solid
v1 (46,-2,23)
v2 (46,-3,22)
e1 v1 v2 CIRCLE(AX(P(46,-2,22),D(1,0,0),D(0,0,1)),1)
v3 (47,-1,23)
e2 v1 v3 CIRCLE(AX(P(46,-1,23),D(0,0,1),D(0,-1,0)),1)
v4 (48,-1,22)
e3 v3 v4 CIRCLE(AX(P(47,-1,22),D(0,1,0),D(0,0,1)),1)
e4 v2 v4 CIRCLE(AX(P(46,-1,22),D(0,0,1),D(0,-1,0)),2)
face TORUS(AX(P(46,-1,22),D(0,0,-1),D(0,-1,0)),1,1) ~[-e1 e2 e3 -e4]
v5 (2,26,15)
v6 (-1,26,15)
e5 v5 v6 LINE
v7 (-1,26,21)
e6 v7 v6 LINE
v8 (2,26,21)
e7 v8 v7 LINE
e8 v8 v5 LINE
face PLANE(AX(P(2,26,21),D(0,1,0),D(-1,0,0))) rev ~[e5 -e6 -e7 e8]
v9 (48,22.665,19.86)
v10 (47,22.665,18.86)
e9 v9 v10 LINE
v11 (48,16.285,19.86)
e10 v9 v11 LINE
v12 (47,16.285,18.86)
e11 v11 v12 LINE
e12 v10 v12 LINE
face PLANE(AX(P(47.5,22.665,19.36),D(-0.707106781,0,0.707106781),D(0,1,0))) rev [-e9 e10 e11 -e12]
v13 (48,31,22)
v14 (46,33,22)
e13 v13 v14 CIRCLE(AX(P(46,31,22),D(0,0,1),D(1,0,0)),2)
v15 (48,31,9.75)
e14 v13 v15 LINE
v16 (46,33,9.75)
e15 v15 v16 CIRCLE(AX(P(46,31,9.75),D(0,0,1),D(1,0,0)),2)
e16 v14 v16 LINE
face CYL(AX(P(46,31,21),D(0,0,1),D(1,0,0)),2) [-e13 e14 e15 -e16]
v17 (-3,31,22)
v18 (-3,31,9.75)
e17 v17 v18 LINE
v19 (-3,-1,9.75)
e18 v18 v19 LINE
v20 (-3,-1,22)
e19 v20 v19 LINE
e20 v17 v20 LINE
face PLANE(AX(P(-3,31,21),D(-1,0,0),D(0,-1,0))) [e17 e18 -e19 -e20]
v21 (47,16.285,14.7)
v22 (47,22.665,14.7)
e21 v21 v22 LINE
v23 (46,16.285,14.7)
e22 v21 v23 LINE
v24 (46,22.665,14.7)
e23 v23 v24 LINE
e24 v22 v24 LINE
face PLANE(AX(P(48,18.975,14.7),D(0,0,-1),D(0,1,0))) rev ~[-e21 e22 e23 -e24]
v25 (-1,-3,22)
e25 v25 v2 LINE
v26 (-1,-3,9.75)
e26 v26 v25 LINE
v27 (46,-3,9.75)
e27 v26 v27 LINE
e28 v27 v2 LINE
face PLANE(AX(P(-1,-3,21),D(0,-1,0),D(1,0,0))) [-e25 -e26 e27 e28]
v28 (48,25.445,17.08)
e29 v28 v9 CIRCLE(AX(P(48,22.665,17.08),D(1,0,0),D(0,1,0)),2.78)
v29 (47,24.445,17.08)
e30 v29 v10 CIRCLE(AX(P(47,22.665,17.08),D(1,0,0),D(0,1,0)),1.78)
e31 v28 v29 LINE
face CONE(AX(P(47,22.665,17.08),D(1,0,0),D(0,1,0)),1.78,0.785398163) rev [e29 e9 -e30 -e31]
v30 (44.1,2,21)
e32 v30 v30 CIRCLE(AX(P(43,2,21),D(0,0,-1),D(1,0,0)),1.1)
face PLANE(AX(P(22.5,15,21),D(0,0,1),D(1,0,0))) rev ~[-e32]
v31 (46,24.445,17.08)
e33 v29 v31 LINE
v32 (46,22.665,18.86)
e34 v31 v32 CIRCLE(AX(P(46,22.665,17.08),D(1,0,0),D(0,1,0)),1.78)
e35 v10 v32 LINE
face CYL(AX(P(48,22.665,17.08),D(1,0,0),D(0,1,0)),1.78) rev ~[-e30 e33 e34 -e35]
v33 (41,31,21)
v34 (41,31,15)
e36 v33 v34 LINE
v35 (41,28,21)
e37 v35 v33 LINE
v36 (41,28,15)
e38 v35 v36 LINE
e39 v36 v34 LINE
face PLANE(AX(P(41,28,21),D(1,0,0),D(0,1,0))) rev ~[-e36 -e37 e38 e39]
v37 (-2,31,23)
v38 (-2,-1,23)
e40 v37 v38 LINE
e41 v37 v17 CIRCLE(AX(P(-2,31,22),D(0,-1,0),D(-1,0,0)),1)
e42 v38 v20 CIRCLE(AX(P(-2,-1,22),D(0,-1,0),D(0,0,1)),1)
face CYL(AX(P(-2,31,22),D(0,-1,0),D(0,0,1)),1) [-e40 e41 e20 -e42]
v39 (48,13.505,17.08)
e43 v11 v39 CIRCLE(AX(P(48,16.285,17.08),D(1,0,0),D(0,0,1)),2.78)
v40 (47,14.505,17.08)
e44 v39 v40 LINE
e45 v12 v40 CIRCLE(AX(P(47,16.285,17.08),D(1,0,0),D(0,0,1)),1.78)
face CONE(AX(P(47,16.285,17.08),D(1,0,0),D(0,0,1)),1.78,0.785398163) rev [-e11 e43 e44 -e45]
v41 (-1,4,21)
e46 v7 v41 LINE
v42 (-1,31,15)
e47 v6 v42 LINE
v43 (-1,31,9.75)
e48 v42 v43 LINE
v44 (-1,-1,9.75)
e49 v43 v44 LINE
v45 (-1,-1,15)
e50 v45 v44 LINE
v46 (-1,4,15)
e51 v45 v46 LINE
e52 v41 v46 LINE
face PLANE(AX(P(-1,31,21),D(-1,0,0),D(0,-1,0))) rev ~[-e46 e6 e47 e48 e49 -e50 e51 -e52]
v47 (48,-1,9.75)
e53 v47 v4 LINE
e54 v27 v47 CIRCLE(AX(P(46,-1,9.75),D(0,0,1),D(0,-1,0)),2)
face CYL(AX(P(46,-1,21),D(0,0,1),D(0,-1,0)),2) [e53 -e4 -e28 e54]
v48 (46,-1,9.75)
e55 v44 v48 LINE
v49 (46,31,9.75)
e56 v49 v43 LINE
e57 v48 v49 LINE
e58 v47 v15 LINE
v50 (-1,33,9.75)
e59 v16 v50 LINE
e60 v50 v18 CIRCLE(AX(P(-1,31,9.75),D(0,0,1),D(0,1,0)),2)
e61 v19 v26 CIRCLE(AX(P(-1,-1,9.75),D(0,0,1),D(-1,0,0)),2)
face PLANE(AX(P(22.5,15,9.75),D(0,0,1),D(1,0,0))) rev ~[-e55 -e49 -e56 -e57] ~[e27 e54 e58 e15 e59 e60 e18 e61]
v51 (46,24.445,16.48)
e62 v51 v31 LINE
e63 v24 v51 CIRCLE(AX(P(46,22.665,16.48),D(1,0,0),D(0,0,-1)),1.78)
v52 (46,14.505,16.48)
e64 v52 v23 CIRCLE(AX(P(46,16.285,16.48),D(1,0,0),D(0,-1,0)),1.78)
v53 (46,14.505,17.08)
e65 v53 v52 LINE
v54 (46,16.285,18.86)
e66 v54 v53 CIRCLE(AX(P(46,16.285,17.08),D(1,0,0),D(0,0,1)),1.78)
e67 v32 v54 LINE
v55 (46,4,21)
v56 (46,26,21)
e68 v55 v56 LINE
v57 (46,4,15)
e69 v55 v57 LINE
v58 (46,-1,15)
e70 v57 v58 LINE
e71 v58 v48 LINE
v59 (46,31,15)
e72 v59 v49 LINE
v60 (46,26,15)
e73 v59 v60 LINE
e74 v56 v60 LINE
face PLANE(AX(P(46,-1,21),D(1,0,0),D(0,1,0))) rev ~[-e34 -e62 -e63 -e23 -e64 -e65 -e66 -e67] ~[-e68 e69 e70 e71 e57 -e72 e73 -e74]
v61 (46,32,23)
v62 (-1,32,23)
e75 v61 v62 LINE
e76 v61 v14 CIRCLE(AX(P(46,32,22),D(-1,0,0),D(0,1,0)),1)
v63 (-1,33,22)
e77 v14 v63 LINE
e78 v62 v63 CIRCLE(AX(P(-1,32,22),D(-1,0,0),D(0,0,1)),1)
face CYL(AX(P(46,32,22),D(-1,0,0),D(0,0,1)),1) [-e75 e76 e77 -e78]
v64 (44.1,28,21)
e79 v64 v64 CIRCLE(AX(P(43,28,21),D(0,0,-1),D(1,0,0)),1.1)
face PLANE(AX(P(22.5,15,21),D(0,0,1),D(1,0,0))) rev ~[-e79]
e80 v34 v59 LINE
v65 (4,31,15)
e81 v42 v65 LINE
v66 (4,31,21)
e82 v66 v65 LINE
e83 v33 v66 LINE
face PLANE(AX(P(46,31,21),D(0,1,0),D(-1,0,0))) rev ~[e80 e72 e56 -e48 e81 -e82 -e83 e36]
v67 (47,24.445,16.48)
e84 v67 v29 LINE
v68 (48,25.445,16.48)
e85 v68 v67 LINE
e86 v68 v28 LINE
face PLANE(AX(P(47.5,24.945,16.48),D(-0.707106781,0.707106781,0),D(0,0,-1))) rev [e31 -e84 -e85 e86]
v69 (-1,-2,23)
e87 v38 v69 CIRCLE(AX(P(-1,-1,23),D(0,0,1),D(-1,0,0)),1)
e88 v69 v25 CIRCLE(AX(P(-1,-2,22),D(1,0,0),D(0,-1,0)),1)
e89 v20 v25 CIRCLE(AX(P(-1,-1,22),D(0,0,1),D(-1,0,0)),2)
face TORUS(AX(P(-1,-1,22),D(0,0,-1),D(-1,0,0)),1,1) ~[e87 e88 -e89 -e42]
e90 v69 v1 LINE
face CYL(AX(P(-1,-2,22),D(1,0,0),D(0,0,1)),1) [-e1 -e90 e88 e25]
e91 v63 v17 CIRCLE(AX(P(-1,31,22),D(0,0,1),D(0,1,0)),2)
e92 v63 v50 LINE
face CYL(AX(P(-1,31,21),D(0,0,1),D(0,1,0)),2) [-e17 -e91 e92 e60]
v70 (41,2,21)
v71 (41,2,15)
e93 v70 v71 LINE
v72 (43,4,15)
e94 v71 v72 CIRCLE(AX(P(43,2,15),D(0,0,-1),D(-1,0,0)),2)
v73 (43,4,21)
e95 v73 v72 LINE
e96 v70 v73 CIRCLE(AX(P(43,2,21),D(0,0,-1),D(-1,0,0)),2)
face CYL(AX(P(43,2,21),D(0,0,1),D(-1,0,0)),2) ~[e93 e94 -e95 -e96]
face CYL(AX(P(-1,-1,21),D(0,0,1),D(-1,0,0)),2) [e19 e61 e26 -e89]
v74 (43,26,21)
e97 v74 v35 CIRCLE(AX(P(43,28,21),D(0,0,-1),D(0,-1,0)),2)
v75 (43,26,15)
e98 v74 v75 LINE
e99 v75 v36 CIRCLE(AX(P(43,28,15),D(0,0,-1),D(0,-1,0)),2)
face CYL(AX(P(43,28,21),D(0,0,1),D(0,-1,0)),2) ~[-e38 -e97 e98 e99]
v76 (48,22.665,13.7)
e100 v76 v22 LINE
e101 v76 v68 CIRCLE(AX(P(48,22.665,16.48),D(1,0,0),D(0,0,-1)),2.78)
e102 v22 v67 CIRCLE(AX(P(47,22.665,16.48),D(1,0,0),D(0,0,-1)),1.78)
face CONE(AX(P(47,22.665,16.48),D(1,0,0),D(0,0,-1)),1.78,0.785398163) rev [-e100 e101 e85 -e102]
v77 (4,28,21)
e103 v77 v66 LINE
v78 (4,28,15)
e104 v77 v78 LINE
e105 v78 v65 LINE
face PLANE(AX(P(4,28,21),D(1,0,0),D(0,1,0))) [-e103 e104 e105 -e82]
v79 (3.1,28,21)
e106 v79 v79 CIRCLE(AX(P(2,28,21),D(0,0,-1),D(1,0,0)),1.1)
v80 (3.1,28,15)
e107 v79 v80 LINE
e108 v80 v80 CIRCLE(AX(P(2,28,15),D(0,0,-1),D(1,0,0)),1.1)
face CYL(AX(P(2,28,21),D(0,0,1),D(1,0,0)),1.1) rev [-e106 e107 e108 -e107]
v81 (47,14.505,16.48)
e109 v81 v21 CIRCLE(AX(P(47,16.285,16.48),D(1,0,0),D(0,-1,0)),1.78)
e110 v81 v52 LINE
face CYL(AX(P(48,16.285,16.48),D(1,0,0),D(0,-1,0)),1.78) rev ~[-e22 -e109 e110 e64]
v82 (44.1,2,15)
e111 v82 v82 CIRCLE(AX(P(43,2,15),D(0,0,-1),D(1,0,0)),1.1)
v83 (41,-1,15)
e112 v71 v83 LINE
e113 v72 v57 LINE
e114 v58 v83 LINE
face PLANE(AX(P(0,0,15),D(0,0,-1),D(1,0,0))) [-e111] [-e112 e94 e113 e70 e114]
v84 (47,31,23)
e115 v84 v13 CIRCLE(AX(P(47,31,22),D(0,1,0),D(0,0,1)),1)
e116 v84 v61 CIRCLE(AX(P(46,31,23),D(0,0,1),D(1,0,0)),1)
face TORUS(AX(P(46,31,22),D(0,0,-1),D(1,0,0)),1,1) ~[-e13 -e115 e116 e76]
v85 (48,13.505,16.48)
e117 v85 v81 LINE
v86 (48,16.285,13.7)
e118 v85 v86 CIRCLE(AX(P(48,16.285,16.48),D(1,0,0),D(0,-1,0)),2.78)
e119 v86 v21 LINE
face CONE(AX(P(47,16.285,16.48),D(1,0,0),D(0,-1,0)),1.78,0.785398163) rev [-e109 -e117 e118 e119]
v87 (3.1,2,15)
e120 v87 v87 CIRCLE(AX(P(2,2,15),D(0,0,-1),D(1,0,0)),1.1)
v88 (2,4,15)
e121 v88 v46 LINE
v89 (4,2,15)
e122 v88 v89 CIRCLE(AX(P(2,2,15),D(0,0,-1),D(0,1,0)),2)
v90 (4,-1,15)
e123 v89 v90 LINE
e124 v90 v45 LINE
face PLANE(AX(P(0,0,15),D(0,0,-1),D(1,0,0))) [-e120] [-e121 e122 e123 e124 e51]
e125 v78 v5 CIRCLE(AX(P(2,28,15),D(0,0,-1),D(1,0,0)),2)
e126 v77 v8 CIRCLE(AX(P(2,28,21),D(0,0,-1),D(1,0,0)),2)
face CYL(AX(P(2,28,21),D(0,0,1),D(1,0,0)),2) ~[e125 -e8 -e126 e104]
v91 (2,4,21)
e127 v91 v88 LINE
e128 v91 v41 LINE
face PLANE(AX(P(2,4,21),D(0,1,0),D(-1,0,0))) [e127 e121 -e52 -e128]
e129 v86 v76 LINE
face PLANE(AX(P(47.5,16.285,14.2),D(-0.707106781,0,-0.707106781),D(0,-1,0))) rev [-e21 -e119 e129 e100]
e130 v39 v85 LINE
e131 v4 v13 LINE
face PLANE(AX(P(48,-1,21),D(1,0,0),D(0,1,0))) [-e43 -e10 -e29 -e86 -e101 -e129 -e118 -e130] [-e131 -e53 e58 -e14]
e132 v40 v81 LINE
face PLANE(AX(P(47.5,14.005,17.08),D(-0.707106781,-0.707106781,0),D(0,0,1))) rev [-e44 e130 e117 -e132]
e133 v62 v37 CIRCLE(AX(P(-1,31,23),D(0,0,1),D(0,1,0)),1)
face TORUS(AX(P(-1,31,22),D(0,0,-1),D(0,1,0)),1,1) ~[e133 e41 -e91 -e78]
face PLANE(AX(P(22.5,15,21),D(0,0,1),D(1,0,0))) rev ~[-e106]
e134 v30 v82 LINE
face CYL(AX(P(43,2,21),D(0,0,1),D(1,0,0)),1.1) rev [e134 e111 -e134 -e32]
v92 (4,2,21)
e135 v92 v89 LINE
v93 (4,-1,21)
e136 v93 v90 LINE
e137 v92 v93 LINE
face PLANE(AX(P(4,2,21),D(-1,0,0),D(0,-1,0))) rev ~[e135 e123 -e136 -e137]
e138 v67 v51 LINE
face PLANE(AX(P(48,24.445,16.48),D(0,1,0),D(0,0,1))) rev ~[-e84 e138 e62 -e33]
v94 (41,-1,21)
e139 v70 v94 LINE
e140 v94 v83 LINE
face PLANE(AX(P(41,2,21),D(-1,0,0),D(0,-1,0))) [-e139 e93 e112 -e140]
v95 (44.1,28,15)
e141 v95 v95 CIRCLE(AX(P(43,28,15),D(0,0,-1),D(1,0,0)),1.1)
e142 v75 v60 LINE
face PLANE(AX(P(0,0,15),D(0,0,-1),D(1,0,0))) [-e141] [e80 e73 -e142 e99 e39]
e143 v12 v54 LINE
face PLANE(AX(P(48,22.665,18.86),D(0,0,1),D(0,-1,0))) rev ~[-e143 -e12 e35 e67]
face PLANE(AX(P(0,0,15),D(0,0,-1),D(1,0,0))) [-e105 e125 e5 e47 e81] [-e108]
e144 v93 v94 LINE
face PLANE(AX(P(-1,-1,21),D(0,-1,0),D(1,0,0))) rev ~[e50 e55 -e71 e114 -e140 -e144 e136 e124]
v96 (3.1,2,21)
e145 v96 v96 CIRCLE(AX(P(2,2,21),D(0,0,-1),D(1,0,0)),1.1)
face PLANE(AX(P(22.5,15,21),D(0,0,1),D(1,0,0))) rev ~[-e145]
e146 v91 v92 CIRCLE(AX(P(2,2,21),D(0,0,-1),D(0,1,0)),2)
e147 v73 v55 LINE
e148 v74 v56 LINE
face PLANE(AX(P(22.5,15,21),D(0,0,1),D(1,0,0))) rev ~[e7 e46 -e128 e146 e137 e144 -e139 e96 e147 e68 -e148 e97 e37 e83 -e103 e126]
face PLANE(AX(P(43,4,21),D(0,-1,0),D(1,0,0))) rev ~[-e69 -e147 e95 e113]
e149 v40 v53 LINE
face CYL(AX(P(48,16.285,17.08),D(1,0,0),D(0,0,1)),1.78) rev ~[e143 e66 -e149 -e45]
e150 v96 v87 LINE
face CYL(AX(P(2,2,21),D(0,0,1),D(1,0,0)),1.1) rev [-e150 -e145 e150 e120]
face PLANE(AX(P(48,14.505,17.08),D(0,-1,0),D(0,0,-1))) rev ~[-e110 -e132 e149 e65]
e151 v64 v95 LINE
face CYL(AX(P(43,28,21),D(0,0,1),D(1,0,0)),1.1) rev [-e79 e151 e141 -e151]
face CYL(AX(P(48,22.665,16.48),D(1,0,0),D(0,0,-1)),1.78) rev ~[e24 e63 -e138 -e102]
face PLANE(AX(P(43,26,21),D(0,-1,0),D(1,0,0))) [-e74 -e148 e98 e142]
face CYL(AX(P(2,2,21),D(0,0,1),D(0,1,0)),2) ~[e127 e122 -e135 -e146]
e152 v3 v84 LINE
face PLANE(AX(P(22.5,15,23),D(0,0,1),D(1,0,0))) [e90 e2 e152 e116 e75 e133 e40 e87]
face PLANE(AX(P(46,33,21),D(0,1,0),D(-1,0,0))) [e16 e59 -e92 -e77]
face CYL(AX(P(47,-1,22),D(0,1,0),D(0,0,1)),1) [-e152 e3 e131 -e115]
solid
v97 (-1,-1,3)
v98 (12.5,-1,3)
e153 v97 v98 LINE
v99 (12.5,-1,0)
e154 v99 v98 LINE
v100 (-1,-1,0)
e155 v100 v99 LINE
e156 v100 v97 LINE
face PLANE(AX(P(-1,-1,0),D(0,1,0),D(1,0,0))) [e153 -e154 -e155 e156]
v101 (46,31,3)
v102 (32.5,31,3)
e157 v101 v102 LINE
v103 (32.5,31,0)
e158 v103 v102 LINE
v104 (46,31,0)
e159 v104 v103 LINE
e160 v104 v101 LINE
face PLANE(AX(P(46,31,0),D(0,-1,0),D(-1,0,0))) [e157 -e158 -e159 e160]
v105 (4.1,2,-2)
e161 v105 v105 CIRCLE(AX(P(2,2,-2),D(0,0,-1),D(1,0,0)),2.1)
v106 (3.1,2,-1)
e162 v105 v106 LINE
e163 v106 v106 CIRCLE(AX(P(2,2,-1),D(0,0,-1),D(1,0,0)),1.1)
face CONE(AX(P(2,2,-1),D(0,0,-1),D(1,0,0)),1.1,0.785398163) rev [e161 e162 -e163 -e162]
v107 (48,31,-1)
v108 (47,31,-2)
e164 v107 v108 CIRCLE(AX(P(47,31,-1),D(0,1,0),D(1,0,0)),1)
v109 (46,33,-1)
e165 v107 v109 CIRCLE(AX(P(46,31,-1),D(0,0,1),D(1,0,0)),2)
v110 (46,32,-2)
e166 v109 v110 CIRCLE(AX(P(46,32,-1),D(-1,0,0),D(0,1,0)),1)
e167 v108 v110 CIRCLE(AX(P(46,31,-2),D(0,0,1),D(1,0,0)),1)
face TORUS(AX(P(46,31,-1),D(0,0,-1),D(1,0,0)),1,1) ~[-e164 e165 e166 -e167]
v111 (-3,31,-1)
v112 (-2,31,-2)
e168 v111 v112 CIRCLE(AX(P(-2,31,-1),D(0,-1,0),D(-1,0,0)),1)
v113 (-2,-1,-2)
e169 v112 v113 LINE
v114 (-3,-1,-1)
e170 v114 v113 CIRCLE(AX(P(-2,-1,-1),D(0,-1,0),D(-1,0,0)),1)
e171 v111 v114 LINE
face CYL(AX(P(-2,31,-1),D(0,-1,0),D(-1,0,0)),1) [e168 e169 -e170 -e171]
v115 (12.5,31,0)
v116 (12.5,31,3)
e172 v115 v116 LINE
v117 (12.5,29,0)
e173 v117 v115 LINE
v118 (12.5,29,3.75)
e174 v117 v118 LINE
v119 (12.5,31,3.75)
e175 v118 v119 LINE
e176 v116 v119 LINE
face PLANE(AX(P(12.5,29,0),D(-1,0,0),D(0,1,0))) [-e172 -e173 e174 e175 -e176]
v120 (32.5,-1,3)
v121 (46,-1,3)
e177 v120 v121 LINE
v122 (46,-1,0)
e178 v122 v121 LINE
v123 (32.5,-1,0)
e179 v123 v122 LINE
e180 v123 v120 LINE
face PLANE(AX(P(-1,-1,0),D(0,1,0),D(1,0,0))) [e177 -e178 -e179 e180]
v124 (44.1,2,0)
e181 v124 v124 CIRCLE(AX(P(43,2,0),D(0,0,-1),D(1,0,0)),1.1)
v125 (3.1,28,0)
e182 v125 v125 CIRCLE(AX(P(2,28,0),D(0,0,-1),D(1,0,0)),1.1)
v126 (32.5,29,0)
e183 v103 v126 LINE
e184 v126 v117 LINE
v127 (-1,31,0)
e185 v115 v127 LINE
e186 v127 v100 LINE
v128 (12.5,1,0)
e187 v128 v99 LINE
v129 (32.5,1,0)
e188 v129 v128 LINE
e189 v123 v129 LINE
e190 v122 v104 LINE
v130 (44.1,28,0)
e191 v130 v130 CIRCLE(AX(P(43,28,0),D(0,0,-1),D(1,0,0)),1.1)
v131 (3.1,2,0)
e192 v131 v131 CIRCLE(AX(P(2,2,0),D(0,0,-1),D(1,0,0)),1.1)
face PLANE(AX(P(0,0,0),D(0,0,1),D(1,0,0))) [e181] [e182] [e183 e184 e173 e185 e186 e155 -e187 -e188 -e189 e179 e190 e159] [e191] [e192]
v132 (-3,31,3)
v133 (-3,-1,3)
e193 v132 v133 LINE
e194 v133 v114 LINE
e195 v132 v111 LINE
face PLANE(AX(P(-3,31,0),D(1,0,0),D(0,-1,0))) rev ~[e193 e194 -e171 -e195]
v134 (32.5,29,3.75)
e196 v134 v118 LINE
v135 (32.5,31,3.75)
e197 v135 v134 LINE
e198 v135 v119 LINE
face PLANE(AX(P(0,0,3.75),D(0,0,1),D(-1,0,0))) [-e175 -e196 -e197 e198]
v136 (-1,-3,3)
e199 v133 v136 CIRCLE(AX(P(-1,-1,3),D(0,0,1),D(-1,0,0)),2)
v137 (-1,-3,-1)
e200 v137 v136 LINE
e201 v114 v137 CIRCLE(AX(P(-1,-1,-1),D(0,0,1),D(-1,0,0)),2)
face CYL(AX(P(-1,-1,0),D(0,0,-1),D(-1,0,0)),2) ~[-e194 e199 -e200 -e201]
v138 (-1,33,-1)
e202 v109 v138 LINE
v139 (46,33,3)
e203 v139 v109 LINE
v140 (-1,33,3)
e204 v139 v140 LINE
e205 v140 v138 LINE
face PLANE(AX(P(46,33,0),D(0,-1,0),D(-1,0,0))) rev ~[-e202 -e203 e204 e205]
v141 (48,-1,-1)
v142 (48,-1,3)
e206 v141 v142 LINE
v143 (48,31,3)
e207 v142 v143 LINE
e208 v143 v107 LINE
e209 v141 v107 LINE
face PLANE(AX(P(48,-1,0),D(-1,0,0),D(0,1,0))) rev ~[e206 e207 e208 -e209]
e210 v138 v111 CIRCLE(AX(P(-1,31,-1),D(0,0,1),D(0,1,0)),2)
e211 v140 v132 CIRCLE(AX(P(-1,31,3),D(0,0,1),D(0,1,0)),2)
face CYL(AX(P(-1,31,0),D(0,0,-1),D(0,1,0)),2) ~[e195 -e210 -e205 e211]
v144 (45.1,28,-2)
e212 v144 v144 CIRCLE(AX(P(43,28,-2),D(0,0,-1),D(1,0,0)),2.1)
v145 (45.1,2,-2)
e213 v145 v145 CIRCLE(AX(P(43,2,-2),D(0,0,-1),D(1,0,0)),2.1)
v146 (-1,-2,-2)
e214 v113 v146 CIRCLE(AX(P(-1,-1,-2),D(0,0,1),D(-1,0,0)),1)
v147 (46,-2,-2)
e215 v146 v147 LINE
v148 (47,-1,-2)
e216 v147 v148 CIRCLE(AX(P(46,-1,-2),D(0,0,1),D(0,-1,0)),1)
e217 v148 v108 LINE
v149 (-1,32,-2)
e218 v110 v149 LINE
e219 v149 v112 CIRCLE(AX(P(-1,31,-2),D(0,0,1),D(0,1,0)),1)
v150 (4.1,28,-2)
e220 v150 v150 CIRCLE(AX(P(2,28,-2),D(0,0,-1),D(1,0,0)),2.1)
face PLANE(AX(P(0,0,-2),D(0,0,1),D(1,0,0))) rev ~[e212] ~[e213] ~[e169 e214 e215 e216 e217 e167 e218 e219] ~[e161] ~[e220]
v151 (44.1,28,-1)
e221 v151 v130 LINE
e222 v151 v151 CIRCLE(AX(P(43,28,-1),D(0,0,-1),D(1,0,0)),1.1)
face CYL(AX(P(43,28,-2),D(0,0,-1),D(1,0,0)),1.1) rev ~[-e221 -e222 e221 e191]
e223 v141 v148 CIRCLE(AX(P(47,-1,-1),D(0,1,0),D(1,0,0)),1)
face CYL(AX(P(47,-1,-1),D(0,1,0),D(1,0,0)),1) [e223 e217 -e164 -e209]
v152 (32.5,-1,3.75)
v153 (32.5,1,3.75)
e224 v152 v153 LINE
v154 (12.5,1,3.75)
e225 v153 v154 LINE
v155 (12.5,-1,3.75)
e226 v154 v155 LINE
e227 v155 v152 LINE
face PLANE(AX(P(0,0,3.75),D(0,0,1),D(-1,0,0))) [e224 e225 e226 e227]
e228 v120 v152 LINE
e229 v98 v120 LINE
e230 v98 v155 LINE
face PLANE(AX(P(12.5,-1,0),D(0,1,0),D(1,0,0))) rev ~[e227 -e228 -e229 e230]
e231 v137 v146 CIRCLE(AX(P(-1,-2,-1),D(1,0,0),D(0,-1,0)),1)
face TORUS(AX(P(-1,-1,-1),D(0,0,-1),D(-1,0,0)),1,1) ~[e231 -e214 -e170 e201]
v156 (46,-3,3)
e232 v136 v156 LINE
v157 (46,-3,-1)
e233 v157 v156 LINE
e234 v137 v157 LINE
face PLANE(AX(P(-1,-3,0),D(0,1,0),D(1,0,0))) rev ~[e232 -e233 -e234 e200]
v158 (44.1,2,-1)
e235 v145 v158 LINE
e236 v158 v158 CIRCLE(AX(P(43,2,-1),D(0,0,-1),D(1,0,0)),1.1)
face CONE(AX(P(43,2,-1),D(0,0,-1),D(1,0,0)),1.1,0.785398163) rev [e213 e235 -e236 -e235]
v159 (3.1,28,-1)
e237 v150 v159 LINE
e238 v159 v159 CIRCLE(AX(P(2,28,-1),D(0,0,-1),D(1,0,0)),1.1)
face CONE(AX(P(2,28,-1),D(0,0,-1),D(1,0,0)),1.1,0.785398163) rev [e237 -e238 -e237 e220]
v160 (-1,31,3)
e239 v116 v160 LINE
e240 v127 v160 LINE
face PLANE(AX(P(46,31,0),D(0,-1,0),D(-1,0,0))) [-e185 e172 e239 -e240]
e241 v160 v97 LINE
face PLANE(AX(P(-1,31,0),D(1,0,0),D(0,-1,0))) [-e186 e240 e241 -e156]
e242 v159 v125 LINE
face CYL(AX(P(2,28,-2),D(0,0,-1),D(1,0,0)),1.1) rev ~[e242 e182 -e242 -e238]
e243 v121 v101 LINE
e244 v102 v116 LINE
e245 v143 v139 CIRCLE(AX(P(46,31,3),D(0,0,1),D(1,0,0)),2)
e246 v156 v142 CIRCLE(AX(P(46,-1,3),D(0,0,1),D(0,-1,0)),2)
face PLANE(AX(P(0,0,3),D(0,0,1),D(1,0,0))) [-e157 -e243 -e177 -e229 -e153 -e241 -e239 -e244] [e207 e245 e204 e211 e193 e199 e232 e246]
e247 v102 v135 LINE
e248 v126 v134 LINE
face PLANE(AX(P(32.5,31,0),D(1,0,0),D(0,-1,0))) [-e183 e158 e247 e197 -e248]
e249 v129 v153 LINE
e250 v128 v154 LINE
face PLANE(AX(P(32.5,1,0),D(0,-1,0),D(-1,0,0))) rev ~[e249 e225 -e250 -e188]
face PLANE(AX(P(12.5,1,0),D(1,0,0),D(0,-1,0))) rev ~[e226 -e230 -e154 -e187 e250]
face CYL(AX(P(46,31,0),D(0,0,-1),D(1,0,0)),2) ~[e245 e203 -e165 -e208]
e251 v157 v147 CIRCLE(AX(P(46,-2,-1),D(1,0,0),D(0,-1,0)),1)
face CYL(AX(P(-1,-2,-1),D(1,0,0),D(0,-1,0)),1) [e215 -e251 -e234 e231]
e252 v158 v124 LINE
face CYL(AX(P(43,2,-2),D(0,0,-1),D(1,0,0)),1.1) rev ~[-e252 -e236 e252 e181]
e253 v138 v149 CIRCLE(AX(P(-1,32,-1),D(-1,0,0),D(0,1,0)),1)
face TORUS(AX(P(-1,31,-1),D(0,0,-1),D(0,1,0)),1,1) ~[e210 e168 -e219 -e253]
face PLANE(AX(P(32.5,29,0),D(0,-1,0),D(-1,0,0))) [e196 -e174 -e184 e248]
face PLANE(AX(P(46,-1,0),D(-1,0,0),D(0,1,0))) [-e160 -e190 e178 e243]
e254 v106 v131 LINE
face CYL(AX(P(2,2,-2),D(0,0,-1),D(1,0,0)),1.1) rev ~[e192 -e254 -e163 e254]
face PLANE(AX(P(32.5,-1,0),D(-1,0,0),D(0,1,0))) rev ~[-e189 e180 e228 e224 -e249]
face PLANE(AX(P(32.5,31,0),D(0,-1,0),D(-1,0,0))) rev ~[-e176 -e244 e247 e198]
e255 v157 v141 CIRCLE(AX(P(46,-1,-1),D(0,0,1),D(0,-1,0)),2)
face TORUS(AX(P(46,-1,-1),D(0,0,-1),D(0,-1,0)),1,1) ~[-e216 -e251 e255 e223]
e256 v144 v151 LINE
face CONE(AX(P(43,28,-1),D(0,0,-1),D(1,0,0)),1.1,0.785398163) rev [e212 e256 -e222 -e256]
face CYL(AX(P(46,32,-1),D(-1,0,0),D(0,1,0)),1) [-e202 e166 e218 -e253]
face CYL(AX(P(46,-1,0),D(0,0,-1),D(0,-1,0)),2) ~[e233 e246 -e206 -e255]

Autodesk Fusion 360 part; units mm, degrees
sketch "Sketch1" plane through (0, 0, 0) normal (0, 0, 1) x (1, 0, 0) in component "Enclosure-Bottom"
  line L0 (0, 0) -> (45, 0) construction
  line L1 (45, 0) -> (45, 30) construction
  line L2 (45, 30) -> (0, 30) construction
  line L3 (0, 30) -> (0, 0) construction
  line L4 (-1, -1) -> (46, -1)
  line L5 (46, -1) -> (46, 31)
  line L6 (46, 31) -> (-1, 31)
  line L7 (-1, 31) -> (-1, -1)
  line L8 (-1, -3) -> (46, -3)
  line L9 (48, -1) -> (48, 31)
  line L10 (46, 33) -> (-1, 33)
  line L11 (-3, 31) -> (-3, -1)
  arc A0 (48, 31) -> (46, 33) centre (46, 31) ccw
  arc A1 (-1, 33) -> (-3, 31) centre (-1, 31) ccw
  arc A2 (-3, -1) -> (-1, -3) centre (-1, -1) ccw
  arc A3 (46, -3) -> (48, -1) centre (46, -1) ccw
  dimension "d1" = 45
  dimension "d2" = 30
  dimension "d5" = 1
  dimension "d9" = 2
  dimension "d23" = 3
  dimension "d25" = 3
  dimension "d26" = 3
  dimension "d27" = 3
extrude "Extrude1" add sketch "Sketch1" against normal blind 2 contours L4 L5 L6 L7 | L8 L9 L10 L11 A0 A1 A2 A3 makes body 1 in component "Enclosure-Bottom"
extrude "Extrude2" add sketch "Sketch1" along normal blind 3 bodies 1 in component "Enclosure-Bottom"
ref_plane "WorkPlane1" through (22.5, 15, 20) normal (0, 0, 1) x (1, 0, 0)
sketch "Sketch1 (2)" plane through (22.5, 15, 20) normal (0, 0, 1) x (1, 0, 0) in component "Enclosure-Top"
  line L0 (-23.5, -16) -> (23.5, -16)
  line L1 (-23.5, 16) -> (-23.5, -16)
  line L2 (23.5, 16) -> (-23.5, 16)
  line L3 (23.5, -16) -> (23.5, 16)
  line L4 (-23.5, -18) -> (23.5, -18)
  arc A0 (23.5, -18) -> (25.5, -16) centre (23.5, -16) ccw
  line L5 (25.5, -16) -> (25.5, 16)
  line L6 (-25.5, 16) -> (-25.5, -16)
  arc A1 (-25.5, -16) -> (-23.5, -18) centre (-23.5, -16) ccw
  line L7 (23.5, 18) -> (-23.5, 18)
  arc A2 (-23.5, 18) -> (-25.5, 16) centre (-23.5, 16) ccw
  arc A3 (25.5, 16) -> (23.5, 18) centre (23.5, 16) ccw
extrude "Extrude1'" add sketch "Sketch1 (2)" against normal blind 11.25 separate body makes body 2 in component "Enclosure-Top"
extrude "Extrude2'" add sketch "Sketch1 (2)" along normal blind 2 contours L0 L1 L2 L3 | L4 A0 L5 L6 A1 L7 A2 A3 bodies 2 in component "Enclosure-Top"
fillet "Fillet1" radius 1 8 edges at (48, 15, 22) (47.4142, 32.4142, 22) (22.5, 33, 22) (-2.4142, 32.4142, 22) (-3, 15, 22) (-2.4142, -2.4142, 22) (22.5, -3, 22) (47.4142, -2.4142, 22) on bodies 2 in component "Enclosure-Top"
fillet "Fillet1'" radius 1 8 edges at (-3, 15, -2) (-2.4142, 32.4142, -2) (22.5, 33, -2) (47.4142, 32.4142, -2) (48, 15, -2) (47.4142, -2.4142, -2) (22.5, -3, -2) (-2.4142, -2.4142, -2) on bodies 1 in component "Enclosure-Bottom"
sketch "Sketch2" plane through (0, 0, 20) normal (0, 0, -1) x (1, 0, 0) in component "Enclosure-Top"
  line L0 (46, 1) -> (-1, 1)
  line L1 (-1, 1) -> (-1, -31)
  line L2 (-1, -31) -> (46, -31)
  line L3 (46, -31) -> (46, 1)
  line L4 (46, -2) -> (-1, -2) construction
  line L5 (2, 1) -> (2, -31) construction
  line L6 (-1, 1) -> (46, 1)
  line L7 (-1, -31) -> (-1, 1)
  line L8 (46, 1) -> (46, -31)
  line L9 (46, -31) -> (-1, -31)
  line L10 (22.5, 1) -> (22.5, -31) construction
  line L11 (46, -15) -> (-1, -15) construction
  line L12 (46, -28) -> (-1, -28) construction
  line L13 (43, 1) -> (43, -31) construction
  circle A0 centre (43, -2) radius 1.1
  line L14 (43, -4) -> (46, -4)
  line L15 (41, -2) -> (41, 1)
  arc A1 (41, -2) -> (43, -4) centre (43, -2) ccw
  circle A2 centre (2, -2) radius 1.1
  line L16 (4, -2) -> (4, 1)
  arc A3 (2, -4) -> (4, -2) centre (2, -2) ccw
  line L17 (2, -4) -> (-1, -4)
  circle A4 centre (2, -28) radius 1.1
  line L18 (4, -28) -> (4, -31)
  arc A5 (4, -28) -> (2, -26) centre (2, -28) ccw
  line L19 (2, -26) -> (-1, -26)
  line L20 (43, -26) -> (46, -26)
  circle A6 centre (43, -28) radius 1.1
  arc A7 (43, -26) -> (41, -28) centre (43, -28) ccw
  line L21 (41, -28) -> (41, -31)
  dimension "d28" = 3
  dimension "d29" = 3
  dimension "d30" = 2.2
  dimension "d31" = 4
extrude "Extrude3" add sketch "Sketch2" along normal blind 6 contours L0 L3 L6 L8 L14 L15 A1 | L0 L1 L6 L7 L16 A3 L17 | L2 L3 L8 L9 L20 A7 L21 | L1 L2 L7 L9 L18 A5 L19 bodies 2 in component "Enclosure-Top"
sketch "Sketch2 (2)" plane through (0, 0, 0) normal (0, 0, 1) x (-1, 0, 0) in component "Enclosure-Bottom"
  line L0 (1, 1) -> (-46, 1)
  line L1 (-46, 1) -> (-46, -31)
  line L2 (-46, -31) -> (1, -31)
  line L3 (1, -31) -> (1, 1)
  line L4 (1, -31) -> (-46, -31)
  line L5 (-46, -31) -> (-46, 1)
  line L6 (1, 1) -> (1, -31)
  line L7 (-46, 1) -> (1, 1)
  line L8 (-12.5, -31) -> (-32.5, -31)
  line L9 (-32.5, -31) -> (-32.5, -29)
  line L10 (-32.5, -29) -> (-12.5, -29)
  line L11 (-12.5, -29) -> (-12.5, -31)
  line L12 (-22.5, -31) -> (-22.5, 1) construction
  line L13 (-46, -15) -> (1, -15) construction
  line L14 (-32.5, -1) -> (-12.5, -1)
  line L15 (-12.5, -1) -> (-12.5, 1)
  line L16 (-32.5, 1) -> (-32.5, -1)
  dimension "d34" = 2
  dimension "d35" = 20
  dimension "d36" = 10
extrude "Extrude3'" add sketch "Sketch2 (2)" along normal blind 3.75 contours L0 L7 L14 L15 L16 | L2 L4 L8 L9 L10 L11 bodies 1 in component "Enclosure-Bottom"
sketch "Sketch4" plane through (0, 0, -2) normal (0, 0, -1) x (1, 0, 0) in component "Enclosure-Bottom"
  line L0 (-2, 1) -> (-2, -31)
  arc A0 (-2, -31) -> (-1, -32) centre (-1, -31) ccw
  line L1 (-1, -32) -> (46, -32)
  arc A1 (46, -32) -> (47, -31) centre (46, -31) ccw
  line L2 (47, -31) -> (47, 1)
  arc A2 (47, 1) -> (46, 2) centre (46, 1) ccw
  line L3 (46, 2) -> (-1, 2)
  arc A3 (-1, 2) -> (-2, 1) centre (-1, 1) ccw
  circle A4 centre (43, -2) radius 1.1
  circle A5 centre (2, -2) radius 1.1
  circle A6 centre (2, -28) radius 1.1
  circle A7 centre (43, -28) radius 1.1
extrude "Extrude4" cut sketch "Sketch4" against normal up to surface (2 mm away) contours A4 | A5 | A6 | A7 bodies 1 in component "Enclosure-Bottom"
chamfer "Chamfer1" distance 1 angle 45 4 edges at (0.9744, 27.6022, -2) (41.9744, 27.6022, -2) (41.9744, 1.6022, -2) (0.9744, 1.6022, -2) on bodies 1 in component "Enclosure-Bottom"
sketch "Sketch1 (3)" plane through (48, 0, 0) normal (1, 0, 0) x (0, 1, 0)
  line L0 (31, 21) -> (-1, 21)
  line L1 (-1, 21) -> (-1, 8.75)
  line L2 (-1, 8.75) -> (31, 8.75)
  line L3 (31, 8.75) -> (31, 21)
  line L4 (19.025, 14.7) -> (22.665, 14.7)
  arc A0 (22.665, 14.7) -> (24.445, 16.48) centre (22.665, 16.48) ccw
  line L5 (24.445, 16.48) -> (24.445, 17.08)
  arc A1 (24.445, 17.08) -> (22.665, 18.86) centre (22.665, 17.08) ccw
  line L6 (22.665, 18.86) -> (16.285, 18.86)
  arc A2 (16.285, 18.86) -> (14.505, 17.08) centre (16.285, 17.08) ccw
  line L7 (14.505, 17.08) -> (14.505, 16.48)
  arc A3 (14.505, 16.48) -> (16.285, 14.7) centre (16.285, 16.48) ccw
  line L8 (16.285, 14.7) -> (18.975, 14.7)
  line L9 (18.975, 14.7) -> (19.025, 14.7)
extrude "Extrude5" cut sketch "Sketch1 (3)" against normal up to surface (2 mm away) contours L4 A0 L5 A1 L6 A2 L7 A3 L8 L9 sketch seen with x (1, 0, 0) y (0, 1, 0) z (0, 0, 1) at (0, 0, -1) bodies 2 in component "Enclosure-Top"
chamfer "Chamfer2" distance 1 angle 45 8 edges at (48, 15.0263, 14.2213) (48, 14.505, 15.78) (48, 15.0263, 17.3387) (48, 19.475, 17.86) (48, 23.9237, 17.3387) (48, 24.445, 15.78) (48, 23.9237, 14.2213) (48, 19.475, 13.7) on bodies 2 in component "Enclosure-Top"
component "Enclosure-Bottom" placed x (1, 0, 0) y (0, 1, 0) z (0, 0, 1) at (0, 0, 0)
component "Enclosure-Top" placed x (1, 0, 0) y (0, 1, 0) z (0, 0, 1) at (0, 0, 1)
equation "d1 = length"
equation "d2 = width"
equation "wall_thickness = 2 mm"
equation "margin = 1 mm"
equation "d5 = margin"
equation "fillet_radius = 2 mm"
equation "height = 15 mm"
equation "d9 = fillet_radius"
equation "d10 = -wall_thickness"
equation "d12 = height / 5"
equation "d14 = height + wall_thickness"
equation "d15 = -height * ( 3 / 4 )"
equation "d17 = wall_thickness"
equation "d20 = 0.5 * fillet_radius"
equation "d22 = 0.5 * fillet_radius"
equation "d23 = wall_thickness + margin"
equation "d25 = wall_thickness + margin"
equation "d26 = wall_thickness + margin"
equation "d27 = wall_thickness + margin"
equation "d28 = 2 mm + margin"
equation "d29 = 2 mm + margin"
equation "d32 = height / 2.5"
equation "d34 = wall_thickness"
equation "d35 = 10 * wall_thickness"
equation "d36 = ( 10 * wall_thickness ) / 2"
equation "d37 = height / 4"
equation "length = 45 mm"
equation "width = 30 mm"
